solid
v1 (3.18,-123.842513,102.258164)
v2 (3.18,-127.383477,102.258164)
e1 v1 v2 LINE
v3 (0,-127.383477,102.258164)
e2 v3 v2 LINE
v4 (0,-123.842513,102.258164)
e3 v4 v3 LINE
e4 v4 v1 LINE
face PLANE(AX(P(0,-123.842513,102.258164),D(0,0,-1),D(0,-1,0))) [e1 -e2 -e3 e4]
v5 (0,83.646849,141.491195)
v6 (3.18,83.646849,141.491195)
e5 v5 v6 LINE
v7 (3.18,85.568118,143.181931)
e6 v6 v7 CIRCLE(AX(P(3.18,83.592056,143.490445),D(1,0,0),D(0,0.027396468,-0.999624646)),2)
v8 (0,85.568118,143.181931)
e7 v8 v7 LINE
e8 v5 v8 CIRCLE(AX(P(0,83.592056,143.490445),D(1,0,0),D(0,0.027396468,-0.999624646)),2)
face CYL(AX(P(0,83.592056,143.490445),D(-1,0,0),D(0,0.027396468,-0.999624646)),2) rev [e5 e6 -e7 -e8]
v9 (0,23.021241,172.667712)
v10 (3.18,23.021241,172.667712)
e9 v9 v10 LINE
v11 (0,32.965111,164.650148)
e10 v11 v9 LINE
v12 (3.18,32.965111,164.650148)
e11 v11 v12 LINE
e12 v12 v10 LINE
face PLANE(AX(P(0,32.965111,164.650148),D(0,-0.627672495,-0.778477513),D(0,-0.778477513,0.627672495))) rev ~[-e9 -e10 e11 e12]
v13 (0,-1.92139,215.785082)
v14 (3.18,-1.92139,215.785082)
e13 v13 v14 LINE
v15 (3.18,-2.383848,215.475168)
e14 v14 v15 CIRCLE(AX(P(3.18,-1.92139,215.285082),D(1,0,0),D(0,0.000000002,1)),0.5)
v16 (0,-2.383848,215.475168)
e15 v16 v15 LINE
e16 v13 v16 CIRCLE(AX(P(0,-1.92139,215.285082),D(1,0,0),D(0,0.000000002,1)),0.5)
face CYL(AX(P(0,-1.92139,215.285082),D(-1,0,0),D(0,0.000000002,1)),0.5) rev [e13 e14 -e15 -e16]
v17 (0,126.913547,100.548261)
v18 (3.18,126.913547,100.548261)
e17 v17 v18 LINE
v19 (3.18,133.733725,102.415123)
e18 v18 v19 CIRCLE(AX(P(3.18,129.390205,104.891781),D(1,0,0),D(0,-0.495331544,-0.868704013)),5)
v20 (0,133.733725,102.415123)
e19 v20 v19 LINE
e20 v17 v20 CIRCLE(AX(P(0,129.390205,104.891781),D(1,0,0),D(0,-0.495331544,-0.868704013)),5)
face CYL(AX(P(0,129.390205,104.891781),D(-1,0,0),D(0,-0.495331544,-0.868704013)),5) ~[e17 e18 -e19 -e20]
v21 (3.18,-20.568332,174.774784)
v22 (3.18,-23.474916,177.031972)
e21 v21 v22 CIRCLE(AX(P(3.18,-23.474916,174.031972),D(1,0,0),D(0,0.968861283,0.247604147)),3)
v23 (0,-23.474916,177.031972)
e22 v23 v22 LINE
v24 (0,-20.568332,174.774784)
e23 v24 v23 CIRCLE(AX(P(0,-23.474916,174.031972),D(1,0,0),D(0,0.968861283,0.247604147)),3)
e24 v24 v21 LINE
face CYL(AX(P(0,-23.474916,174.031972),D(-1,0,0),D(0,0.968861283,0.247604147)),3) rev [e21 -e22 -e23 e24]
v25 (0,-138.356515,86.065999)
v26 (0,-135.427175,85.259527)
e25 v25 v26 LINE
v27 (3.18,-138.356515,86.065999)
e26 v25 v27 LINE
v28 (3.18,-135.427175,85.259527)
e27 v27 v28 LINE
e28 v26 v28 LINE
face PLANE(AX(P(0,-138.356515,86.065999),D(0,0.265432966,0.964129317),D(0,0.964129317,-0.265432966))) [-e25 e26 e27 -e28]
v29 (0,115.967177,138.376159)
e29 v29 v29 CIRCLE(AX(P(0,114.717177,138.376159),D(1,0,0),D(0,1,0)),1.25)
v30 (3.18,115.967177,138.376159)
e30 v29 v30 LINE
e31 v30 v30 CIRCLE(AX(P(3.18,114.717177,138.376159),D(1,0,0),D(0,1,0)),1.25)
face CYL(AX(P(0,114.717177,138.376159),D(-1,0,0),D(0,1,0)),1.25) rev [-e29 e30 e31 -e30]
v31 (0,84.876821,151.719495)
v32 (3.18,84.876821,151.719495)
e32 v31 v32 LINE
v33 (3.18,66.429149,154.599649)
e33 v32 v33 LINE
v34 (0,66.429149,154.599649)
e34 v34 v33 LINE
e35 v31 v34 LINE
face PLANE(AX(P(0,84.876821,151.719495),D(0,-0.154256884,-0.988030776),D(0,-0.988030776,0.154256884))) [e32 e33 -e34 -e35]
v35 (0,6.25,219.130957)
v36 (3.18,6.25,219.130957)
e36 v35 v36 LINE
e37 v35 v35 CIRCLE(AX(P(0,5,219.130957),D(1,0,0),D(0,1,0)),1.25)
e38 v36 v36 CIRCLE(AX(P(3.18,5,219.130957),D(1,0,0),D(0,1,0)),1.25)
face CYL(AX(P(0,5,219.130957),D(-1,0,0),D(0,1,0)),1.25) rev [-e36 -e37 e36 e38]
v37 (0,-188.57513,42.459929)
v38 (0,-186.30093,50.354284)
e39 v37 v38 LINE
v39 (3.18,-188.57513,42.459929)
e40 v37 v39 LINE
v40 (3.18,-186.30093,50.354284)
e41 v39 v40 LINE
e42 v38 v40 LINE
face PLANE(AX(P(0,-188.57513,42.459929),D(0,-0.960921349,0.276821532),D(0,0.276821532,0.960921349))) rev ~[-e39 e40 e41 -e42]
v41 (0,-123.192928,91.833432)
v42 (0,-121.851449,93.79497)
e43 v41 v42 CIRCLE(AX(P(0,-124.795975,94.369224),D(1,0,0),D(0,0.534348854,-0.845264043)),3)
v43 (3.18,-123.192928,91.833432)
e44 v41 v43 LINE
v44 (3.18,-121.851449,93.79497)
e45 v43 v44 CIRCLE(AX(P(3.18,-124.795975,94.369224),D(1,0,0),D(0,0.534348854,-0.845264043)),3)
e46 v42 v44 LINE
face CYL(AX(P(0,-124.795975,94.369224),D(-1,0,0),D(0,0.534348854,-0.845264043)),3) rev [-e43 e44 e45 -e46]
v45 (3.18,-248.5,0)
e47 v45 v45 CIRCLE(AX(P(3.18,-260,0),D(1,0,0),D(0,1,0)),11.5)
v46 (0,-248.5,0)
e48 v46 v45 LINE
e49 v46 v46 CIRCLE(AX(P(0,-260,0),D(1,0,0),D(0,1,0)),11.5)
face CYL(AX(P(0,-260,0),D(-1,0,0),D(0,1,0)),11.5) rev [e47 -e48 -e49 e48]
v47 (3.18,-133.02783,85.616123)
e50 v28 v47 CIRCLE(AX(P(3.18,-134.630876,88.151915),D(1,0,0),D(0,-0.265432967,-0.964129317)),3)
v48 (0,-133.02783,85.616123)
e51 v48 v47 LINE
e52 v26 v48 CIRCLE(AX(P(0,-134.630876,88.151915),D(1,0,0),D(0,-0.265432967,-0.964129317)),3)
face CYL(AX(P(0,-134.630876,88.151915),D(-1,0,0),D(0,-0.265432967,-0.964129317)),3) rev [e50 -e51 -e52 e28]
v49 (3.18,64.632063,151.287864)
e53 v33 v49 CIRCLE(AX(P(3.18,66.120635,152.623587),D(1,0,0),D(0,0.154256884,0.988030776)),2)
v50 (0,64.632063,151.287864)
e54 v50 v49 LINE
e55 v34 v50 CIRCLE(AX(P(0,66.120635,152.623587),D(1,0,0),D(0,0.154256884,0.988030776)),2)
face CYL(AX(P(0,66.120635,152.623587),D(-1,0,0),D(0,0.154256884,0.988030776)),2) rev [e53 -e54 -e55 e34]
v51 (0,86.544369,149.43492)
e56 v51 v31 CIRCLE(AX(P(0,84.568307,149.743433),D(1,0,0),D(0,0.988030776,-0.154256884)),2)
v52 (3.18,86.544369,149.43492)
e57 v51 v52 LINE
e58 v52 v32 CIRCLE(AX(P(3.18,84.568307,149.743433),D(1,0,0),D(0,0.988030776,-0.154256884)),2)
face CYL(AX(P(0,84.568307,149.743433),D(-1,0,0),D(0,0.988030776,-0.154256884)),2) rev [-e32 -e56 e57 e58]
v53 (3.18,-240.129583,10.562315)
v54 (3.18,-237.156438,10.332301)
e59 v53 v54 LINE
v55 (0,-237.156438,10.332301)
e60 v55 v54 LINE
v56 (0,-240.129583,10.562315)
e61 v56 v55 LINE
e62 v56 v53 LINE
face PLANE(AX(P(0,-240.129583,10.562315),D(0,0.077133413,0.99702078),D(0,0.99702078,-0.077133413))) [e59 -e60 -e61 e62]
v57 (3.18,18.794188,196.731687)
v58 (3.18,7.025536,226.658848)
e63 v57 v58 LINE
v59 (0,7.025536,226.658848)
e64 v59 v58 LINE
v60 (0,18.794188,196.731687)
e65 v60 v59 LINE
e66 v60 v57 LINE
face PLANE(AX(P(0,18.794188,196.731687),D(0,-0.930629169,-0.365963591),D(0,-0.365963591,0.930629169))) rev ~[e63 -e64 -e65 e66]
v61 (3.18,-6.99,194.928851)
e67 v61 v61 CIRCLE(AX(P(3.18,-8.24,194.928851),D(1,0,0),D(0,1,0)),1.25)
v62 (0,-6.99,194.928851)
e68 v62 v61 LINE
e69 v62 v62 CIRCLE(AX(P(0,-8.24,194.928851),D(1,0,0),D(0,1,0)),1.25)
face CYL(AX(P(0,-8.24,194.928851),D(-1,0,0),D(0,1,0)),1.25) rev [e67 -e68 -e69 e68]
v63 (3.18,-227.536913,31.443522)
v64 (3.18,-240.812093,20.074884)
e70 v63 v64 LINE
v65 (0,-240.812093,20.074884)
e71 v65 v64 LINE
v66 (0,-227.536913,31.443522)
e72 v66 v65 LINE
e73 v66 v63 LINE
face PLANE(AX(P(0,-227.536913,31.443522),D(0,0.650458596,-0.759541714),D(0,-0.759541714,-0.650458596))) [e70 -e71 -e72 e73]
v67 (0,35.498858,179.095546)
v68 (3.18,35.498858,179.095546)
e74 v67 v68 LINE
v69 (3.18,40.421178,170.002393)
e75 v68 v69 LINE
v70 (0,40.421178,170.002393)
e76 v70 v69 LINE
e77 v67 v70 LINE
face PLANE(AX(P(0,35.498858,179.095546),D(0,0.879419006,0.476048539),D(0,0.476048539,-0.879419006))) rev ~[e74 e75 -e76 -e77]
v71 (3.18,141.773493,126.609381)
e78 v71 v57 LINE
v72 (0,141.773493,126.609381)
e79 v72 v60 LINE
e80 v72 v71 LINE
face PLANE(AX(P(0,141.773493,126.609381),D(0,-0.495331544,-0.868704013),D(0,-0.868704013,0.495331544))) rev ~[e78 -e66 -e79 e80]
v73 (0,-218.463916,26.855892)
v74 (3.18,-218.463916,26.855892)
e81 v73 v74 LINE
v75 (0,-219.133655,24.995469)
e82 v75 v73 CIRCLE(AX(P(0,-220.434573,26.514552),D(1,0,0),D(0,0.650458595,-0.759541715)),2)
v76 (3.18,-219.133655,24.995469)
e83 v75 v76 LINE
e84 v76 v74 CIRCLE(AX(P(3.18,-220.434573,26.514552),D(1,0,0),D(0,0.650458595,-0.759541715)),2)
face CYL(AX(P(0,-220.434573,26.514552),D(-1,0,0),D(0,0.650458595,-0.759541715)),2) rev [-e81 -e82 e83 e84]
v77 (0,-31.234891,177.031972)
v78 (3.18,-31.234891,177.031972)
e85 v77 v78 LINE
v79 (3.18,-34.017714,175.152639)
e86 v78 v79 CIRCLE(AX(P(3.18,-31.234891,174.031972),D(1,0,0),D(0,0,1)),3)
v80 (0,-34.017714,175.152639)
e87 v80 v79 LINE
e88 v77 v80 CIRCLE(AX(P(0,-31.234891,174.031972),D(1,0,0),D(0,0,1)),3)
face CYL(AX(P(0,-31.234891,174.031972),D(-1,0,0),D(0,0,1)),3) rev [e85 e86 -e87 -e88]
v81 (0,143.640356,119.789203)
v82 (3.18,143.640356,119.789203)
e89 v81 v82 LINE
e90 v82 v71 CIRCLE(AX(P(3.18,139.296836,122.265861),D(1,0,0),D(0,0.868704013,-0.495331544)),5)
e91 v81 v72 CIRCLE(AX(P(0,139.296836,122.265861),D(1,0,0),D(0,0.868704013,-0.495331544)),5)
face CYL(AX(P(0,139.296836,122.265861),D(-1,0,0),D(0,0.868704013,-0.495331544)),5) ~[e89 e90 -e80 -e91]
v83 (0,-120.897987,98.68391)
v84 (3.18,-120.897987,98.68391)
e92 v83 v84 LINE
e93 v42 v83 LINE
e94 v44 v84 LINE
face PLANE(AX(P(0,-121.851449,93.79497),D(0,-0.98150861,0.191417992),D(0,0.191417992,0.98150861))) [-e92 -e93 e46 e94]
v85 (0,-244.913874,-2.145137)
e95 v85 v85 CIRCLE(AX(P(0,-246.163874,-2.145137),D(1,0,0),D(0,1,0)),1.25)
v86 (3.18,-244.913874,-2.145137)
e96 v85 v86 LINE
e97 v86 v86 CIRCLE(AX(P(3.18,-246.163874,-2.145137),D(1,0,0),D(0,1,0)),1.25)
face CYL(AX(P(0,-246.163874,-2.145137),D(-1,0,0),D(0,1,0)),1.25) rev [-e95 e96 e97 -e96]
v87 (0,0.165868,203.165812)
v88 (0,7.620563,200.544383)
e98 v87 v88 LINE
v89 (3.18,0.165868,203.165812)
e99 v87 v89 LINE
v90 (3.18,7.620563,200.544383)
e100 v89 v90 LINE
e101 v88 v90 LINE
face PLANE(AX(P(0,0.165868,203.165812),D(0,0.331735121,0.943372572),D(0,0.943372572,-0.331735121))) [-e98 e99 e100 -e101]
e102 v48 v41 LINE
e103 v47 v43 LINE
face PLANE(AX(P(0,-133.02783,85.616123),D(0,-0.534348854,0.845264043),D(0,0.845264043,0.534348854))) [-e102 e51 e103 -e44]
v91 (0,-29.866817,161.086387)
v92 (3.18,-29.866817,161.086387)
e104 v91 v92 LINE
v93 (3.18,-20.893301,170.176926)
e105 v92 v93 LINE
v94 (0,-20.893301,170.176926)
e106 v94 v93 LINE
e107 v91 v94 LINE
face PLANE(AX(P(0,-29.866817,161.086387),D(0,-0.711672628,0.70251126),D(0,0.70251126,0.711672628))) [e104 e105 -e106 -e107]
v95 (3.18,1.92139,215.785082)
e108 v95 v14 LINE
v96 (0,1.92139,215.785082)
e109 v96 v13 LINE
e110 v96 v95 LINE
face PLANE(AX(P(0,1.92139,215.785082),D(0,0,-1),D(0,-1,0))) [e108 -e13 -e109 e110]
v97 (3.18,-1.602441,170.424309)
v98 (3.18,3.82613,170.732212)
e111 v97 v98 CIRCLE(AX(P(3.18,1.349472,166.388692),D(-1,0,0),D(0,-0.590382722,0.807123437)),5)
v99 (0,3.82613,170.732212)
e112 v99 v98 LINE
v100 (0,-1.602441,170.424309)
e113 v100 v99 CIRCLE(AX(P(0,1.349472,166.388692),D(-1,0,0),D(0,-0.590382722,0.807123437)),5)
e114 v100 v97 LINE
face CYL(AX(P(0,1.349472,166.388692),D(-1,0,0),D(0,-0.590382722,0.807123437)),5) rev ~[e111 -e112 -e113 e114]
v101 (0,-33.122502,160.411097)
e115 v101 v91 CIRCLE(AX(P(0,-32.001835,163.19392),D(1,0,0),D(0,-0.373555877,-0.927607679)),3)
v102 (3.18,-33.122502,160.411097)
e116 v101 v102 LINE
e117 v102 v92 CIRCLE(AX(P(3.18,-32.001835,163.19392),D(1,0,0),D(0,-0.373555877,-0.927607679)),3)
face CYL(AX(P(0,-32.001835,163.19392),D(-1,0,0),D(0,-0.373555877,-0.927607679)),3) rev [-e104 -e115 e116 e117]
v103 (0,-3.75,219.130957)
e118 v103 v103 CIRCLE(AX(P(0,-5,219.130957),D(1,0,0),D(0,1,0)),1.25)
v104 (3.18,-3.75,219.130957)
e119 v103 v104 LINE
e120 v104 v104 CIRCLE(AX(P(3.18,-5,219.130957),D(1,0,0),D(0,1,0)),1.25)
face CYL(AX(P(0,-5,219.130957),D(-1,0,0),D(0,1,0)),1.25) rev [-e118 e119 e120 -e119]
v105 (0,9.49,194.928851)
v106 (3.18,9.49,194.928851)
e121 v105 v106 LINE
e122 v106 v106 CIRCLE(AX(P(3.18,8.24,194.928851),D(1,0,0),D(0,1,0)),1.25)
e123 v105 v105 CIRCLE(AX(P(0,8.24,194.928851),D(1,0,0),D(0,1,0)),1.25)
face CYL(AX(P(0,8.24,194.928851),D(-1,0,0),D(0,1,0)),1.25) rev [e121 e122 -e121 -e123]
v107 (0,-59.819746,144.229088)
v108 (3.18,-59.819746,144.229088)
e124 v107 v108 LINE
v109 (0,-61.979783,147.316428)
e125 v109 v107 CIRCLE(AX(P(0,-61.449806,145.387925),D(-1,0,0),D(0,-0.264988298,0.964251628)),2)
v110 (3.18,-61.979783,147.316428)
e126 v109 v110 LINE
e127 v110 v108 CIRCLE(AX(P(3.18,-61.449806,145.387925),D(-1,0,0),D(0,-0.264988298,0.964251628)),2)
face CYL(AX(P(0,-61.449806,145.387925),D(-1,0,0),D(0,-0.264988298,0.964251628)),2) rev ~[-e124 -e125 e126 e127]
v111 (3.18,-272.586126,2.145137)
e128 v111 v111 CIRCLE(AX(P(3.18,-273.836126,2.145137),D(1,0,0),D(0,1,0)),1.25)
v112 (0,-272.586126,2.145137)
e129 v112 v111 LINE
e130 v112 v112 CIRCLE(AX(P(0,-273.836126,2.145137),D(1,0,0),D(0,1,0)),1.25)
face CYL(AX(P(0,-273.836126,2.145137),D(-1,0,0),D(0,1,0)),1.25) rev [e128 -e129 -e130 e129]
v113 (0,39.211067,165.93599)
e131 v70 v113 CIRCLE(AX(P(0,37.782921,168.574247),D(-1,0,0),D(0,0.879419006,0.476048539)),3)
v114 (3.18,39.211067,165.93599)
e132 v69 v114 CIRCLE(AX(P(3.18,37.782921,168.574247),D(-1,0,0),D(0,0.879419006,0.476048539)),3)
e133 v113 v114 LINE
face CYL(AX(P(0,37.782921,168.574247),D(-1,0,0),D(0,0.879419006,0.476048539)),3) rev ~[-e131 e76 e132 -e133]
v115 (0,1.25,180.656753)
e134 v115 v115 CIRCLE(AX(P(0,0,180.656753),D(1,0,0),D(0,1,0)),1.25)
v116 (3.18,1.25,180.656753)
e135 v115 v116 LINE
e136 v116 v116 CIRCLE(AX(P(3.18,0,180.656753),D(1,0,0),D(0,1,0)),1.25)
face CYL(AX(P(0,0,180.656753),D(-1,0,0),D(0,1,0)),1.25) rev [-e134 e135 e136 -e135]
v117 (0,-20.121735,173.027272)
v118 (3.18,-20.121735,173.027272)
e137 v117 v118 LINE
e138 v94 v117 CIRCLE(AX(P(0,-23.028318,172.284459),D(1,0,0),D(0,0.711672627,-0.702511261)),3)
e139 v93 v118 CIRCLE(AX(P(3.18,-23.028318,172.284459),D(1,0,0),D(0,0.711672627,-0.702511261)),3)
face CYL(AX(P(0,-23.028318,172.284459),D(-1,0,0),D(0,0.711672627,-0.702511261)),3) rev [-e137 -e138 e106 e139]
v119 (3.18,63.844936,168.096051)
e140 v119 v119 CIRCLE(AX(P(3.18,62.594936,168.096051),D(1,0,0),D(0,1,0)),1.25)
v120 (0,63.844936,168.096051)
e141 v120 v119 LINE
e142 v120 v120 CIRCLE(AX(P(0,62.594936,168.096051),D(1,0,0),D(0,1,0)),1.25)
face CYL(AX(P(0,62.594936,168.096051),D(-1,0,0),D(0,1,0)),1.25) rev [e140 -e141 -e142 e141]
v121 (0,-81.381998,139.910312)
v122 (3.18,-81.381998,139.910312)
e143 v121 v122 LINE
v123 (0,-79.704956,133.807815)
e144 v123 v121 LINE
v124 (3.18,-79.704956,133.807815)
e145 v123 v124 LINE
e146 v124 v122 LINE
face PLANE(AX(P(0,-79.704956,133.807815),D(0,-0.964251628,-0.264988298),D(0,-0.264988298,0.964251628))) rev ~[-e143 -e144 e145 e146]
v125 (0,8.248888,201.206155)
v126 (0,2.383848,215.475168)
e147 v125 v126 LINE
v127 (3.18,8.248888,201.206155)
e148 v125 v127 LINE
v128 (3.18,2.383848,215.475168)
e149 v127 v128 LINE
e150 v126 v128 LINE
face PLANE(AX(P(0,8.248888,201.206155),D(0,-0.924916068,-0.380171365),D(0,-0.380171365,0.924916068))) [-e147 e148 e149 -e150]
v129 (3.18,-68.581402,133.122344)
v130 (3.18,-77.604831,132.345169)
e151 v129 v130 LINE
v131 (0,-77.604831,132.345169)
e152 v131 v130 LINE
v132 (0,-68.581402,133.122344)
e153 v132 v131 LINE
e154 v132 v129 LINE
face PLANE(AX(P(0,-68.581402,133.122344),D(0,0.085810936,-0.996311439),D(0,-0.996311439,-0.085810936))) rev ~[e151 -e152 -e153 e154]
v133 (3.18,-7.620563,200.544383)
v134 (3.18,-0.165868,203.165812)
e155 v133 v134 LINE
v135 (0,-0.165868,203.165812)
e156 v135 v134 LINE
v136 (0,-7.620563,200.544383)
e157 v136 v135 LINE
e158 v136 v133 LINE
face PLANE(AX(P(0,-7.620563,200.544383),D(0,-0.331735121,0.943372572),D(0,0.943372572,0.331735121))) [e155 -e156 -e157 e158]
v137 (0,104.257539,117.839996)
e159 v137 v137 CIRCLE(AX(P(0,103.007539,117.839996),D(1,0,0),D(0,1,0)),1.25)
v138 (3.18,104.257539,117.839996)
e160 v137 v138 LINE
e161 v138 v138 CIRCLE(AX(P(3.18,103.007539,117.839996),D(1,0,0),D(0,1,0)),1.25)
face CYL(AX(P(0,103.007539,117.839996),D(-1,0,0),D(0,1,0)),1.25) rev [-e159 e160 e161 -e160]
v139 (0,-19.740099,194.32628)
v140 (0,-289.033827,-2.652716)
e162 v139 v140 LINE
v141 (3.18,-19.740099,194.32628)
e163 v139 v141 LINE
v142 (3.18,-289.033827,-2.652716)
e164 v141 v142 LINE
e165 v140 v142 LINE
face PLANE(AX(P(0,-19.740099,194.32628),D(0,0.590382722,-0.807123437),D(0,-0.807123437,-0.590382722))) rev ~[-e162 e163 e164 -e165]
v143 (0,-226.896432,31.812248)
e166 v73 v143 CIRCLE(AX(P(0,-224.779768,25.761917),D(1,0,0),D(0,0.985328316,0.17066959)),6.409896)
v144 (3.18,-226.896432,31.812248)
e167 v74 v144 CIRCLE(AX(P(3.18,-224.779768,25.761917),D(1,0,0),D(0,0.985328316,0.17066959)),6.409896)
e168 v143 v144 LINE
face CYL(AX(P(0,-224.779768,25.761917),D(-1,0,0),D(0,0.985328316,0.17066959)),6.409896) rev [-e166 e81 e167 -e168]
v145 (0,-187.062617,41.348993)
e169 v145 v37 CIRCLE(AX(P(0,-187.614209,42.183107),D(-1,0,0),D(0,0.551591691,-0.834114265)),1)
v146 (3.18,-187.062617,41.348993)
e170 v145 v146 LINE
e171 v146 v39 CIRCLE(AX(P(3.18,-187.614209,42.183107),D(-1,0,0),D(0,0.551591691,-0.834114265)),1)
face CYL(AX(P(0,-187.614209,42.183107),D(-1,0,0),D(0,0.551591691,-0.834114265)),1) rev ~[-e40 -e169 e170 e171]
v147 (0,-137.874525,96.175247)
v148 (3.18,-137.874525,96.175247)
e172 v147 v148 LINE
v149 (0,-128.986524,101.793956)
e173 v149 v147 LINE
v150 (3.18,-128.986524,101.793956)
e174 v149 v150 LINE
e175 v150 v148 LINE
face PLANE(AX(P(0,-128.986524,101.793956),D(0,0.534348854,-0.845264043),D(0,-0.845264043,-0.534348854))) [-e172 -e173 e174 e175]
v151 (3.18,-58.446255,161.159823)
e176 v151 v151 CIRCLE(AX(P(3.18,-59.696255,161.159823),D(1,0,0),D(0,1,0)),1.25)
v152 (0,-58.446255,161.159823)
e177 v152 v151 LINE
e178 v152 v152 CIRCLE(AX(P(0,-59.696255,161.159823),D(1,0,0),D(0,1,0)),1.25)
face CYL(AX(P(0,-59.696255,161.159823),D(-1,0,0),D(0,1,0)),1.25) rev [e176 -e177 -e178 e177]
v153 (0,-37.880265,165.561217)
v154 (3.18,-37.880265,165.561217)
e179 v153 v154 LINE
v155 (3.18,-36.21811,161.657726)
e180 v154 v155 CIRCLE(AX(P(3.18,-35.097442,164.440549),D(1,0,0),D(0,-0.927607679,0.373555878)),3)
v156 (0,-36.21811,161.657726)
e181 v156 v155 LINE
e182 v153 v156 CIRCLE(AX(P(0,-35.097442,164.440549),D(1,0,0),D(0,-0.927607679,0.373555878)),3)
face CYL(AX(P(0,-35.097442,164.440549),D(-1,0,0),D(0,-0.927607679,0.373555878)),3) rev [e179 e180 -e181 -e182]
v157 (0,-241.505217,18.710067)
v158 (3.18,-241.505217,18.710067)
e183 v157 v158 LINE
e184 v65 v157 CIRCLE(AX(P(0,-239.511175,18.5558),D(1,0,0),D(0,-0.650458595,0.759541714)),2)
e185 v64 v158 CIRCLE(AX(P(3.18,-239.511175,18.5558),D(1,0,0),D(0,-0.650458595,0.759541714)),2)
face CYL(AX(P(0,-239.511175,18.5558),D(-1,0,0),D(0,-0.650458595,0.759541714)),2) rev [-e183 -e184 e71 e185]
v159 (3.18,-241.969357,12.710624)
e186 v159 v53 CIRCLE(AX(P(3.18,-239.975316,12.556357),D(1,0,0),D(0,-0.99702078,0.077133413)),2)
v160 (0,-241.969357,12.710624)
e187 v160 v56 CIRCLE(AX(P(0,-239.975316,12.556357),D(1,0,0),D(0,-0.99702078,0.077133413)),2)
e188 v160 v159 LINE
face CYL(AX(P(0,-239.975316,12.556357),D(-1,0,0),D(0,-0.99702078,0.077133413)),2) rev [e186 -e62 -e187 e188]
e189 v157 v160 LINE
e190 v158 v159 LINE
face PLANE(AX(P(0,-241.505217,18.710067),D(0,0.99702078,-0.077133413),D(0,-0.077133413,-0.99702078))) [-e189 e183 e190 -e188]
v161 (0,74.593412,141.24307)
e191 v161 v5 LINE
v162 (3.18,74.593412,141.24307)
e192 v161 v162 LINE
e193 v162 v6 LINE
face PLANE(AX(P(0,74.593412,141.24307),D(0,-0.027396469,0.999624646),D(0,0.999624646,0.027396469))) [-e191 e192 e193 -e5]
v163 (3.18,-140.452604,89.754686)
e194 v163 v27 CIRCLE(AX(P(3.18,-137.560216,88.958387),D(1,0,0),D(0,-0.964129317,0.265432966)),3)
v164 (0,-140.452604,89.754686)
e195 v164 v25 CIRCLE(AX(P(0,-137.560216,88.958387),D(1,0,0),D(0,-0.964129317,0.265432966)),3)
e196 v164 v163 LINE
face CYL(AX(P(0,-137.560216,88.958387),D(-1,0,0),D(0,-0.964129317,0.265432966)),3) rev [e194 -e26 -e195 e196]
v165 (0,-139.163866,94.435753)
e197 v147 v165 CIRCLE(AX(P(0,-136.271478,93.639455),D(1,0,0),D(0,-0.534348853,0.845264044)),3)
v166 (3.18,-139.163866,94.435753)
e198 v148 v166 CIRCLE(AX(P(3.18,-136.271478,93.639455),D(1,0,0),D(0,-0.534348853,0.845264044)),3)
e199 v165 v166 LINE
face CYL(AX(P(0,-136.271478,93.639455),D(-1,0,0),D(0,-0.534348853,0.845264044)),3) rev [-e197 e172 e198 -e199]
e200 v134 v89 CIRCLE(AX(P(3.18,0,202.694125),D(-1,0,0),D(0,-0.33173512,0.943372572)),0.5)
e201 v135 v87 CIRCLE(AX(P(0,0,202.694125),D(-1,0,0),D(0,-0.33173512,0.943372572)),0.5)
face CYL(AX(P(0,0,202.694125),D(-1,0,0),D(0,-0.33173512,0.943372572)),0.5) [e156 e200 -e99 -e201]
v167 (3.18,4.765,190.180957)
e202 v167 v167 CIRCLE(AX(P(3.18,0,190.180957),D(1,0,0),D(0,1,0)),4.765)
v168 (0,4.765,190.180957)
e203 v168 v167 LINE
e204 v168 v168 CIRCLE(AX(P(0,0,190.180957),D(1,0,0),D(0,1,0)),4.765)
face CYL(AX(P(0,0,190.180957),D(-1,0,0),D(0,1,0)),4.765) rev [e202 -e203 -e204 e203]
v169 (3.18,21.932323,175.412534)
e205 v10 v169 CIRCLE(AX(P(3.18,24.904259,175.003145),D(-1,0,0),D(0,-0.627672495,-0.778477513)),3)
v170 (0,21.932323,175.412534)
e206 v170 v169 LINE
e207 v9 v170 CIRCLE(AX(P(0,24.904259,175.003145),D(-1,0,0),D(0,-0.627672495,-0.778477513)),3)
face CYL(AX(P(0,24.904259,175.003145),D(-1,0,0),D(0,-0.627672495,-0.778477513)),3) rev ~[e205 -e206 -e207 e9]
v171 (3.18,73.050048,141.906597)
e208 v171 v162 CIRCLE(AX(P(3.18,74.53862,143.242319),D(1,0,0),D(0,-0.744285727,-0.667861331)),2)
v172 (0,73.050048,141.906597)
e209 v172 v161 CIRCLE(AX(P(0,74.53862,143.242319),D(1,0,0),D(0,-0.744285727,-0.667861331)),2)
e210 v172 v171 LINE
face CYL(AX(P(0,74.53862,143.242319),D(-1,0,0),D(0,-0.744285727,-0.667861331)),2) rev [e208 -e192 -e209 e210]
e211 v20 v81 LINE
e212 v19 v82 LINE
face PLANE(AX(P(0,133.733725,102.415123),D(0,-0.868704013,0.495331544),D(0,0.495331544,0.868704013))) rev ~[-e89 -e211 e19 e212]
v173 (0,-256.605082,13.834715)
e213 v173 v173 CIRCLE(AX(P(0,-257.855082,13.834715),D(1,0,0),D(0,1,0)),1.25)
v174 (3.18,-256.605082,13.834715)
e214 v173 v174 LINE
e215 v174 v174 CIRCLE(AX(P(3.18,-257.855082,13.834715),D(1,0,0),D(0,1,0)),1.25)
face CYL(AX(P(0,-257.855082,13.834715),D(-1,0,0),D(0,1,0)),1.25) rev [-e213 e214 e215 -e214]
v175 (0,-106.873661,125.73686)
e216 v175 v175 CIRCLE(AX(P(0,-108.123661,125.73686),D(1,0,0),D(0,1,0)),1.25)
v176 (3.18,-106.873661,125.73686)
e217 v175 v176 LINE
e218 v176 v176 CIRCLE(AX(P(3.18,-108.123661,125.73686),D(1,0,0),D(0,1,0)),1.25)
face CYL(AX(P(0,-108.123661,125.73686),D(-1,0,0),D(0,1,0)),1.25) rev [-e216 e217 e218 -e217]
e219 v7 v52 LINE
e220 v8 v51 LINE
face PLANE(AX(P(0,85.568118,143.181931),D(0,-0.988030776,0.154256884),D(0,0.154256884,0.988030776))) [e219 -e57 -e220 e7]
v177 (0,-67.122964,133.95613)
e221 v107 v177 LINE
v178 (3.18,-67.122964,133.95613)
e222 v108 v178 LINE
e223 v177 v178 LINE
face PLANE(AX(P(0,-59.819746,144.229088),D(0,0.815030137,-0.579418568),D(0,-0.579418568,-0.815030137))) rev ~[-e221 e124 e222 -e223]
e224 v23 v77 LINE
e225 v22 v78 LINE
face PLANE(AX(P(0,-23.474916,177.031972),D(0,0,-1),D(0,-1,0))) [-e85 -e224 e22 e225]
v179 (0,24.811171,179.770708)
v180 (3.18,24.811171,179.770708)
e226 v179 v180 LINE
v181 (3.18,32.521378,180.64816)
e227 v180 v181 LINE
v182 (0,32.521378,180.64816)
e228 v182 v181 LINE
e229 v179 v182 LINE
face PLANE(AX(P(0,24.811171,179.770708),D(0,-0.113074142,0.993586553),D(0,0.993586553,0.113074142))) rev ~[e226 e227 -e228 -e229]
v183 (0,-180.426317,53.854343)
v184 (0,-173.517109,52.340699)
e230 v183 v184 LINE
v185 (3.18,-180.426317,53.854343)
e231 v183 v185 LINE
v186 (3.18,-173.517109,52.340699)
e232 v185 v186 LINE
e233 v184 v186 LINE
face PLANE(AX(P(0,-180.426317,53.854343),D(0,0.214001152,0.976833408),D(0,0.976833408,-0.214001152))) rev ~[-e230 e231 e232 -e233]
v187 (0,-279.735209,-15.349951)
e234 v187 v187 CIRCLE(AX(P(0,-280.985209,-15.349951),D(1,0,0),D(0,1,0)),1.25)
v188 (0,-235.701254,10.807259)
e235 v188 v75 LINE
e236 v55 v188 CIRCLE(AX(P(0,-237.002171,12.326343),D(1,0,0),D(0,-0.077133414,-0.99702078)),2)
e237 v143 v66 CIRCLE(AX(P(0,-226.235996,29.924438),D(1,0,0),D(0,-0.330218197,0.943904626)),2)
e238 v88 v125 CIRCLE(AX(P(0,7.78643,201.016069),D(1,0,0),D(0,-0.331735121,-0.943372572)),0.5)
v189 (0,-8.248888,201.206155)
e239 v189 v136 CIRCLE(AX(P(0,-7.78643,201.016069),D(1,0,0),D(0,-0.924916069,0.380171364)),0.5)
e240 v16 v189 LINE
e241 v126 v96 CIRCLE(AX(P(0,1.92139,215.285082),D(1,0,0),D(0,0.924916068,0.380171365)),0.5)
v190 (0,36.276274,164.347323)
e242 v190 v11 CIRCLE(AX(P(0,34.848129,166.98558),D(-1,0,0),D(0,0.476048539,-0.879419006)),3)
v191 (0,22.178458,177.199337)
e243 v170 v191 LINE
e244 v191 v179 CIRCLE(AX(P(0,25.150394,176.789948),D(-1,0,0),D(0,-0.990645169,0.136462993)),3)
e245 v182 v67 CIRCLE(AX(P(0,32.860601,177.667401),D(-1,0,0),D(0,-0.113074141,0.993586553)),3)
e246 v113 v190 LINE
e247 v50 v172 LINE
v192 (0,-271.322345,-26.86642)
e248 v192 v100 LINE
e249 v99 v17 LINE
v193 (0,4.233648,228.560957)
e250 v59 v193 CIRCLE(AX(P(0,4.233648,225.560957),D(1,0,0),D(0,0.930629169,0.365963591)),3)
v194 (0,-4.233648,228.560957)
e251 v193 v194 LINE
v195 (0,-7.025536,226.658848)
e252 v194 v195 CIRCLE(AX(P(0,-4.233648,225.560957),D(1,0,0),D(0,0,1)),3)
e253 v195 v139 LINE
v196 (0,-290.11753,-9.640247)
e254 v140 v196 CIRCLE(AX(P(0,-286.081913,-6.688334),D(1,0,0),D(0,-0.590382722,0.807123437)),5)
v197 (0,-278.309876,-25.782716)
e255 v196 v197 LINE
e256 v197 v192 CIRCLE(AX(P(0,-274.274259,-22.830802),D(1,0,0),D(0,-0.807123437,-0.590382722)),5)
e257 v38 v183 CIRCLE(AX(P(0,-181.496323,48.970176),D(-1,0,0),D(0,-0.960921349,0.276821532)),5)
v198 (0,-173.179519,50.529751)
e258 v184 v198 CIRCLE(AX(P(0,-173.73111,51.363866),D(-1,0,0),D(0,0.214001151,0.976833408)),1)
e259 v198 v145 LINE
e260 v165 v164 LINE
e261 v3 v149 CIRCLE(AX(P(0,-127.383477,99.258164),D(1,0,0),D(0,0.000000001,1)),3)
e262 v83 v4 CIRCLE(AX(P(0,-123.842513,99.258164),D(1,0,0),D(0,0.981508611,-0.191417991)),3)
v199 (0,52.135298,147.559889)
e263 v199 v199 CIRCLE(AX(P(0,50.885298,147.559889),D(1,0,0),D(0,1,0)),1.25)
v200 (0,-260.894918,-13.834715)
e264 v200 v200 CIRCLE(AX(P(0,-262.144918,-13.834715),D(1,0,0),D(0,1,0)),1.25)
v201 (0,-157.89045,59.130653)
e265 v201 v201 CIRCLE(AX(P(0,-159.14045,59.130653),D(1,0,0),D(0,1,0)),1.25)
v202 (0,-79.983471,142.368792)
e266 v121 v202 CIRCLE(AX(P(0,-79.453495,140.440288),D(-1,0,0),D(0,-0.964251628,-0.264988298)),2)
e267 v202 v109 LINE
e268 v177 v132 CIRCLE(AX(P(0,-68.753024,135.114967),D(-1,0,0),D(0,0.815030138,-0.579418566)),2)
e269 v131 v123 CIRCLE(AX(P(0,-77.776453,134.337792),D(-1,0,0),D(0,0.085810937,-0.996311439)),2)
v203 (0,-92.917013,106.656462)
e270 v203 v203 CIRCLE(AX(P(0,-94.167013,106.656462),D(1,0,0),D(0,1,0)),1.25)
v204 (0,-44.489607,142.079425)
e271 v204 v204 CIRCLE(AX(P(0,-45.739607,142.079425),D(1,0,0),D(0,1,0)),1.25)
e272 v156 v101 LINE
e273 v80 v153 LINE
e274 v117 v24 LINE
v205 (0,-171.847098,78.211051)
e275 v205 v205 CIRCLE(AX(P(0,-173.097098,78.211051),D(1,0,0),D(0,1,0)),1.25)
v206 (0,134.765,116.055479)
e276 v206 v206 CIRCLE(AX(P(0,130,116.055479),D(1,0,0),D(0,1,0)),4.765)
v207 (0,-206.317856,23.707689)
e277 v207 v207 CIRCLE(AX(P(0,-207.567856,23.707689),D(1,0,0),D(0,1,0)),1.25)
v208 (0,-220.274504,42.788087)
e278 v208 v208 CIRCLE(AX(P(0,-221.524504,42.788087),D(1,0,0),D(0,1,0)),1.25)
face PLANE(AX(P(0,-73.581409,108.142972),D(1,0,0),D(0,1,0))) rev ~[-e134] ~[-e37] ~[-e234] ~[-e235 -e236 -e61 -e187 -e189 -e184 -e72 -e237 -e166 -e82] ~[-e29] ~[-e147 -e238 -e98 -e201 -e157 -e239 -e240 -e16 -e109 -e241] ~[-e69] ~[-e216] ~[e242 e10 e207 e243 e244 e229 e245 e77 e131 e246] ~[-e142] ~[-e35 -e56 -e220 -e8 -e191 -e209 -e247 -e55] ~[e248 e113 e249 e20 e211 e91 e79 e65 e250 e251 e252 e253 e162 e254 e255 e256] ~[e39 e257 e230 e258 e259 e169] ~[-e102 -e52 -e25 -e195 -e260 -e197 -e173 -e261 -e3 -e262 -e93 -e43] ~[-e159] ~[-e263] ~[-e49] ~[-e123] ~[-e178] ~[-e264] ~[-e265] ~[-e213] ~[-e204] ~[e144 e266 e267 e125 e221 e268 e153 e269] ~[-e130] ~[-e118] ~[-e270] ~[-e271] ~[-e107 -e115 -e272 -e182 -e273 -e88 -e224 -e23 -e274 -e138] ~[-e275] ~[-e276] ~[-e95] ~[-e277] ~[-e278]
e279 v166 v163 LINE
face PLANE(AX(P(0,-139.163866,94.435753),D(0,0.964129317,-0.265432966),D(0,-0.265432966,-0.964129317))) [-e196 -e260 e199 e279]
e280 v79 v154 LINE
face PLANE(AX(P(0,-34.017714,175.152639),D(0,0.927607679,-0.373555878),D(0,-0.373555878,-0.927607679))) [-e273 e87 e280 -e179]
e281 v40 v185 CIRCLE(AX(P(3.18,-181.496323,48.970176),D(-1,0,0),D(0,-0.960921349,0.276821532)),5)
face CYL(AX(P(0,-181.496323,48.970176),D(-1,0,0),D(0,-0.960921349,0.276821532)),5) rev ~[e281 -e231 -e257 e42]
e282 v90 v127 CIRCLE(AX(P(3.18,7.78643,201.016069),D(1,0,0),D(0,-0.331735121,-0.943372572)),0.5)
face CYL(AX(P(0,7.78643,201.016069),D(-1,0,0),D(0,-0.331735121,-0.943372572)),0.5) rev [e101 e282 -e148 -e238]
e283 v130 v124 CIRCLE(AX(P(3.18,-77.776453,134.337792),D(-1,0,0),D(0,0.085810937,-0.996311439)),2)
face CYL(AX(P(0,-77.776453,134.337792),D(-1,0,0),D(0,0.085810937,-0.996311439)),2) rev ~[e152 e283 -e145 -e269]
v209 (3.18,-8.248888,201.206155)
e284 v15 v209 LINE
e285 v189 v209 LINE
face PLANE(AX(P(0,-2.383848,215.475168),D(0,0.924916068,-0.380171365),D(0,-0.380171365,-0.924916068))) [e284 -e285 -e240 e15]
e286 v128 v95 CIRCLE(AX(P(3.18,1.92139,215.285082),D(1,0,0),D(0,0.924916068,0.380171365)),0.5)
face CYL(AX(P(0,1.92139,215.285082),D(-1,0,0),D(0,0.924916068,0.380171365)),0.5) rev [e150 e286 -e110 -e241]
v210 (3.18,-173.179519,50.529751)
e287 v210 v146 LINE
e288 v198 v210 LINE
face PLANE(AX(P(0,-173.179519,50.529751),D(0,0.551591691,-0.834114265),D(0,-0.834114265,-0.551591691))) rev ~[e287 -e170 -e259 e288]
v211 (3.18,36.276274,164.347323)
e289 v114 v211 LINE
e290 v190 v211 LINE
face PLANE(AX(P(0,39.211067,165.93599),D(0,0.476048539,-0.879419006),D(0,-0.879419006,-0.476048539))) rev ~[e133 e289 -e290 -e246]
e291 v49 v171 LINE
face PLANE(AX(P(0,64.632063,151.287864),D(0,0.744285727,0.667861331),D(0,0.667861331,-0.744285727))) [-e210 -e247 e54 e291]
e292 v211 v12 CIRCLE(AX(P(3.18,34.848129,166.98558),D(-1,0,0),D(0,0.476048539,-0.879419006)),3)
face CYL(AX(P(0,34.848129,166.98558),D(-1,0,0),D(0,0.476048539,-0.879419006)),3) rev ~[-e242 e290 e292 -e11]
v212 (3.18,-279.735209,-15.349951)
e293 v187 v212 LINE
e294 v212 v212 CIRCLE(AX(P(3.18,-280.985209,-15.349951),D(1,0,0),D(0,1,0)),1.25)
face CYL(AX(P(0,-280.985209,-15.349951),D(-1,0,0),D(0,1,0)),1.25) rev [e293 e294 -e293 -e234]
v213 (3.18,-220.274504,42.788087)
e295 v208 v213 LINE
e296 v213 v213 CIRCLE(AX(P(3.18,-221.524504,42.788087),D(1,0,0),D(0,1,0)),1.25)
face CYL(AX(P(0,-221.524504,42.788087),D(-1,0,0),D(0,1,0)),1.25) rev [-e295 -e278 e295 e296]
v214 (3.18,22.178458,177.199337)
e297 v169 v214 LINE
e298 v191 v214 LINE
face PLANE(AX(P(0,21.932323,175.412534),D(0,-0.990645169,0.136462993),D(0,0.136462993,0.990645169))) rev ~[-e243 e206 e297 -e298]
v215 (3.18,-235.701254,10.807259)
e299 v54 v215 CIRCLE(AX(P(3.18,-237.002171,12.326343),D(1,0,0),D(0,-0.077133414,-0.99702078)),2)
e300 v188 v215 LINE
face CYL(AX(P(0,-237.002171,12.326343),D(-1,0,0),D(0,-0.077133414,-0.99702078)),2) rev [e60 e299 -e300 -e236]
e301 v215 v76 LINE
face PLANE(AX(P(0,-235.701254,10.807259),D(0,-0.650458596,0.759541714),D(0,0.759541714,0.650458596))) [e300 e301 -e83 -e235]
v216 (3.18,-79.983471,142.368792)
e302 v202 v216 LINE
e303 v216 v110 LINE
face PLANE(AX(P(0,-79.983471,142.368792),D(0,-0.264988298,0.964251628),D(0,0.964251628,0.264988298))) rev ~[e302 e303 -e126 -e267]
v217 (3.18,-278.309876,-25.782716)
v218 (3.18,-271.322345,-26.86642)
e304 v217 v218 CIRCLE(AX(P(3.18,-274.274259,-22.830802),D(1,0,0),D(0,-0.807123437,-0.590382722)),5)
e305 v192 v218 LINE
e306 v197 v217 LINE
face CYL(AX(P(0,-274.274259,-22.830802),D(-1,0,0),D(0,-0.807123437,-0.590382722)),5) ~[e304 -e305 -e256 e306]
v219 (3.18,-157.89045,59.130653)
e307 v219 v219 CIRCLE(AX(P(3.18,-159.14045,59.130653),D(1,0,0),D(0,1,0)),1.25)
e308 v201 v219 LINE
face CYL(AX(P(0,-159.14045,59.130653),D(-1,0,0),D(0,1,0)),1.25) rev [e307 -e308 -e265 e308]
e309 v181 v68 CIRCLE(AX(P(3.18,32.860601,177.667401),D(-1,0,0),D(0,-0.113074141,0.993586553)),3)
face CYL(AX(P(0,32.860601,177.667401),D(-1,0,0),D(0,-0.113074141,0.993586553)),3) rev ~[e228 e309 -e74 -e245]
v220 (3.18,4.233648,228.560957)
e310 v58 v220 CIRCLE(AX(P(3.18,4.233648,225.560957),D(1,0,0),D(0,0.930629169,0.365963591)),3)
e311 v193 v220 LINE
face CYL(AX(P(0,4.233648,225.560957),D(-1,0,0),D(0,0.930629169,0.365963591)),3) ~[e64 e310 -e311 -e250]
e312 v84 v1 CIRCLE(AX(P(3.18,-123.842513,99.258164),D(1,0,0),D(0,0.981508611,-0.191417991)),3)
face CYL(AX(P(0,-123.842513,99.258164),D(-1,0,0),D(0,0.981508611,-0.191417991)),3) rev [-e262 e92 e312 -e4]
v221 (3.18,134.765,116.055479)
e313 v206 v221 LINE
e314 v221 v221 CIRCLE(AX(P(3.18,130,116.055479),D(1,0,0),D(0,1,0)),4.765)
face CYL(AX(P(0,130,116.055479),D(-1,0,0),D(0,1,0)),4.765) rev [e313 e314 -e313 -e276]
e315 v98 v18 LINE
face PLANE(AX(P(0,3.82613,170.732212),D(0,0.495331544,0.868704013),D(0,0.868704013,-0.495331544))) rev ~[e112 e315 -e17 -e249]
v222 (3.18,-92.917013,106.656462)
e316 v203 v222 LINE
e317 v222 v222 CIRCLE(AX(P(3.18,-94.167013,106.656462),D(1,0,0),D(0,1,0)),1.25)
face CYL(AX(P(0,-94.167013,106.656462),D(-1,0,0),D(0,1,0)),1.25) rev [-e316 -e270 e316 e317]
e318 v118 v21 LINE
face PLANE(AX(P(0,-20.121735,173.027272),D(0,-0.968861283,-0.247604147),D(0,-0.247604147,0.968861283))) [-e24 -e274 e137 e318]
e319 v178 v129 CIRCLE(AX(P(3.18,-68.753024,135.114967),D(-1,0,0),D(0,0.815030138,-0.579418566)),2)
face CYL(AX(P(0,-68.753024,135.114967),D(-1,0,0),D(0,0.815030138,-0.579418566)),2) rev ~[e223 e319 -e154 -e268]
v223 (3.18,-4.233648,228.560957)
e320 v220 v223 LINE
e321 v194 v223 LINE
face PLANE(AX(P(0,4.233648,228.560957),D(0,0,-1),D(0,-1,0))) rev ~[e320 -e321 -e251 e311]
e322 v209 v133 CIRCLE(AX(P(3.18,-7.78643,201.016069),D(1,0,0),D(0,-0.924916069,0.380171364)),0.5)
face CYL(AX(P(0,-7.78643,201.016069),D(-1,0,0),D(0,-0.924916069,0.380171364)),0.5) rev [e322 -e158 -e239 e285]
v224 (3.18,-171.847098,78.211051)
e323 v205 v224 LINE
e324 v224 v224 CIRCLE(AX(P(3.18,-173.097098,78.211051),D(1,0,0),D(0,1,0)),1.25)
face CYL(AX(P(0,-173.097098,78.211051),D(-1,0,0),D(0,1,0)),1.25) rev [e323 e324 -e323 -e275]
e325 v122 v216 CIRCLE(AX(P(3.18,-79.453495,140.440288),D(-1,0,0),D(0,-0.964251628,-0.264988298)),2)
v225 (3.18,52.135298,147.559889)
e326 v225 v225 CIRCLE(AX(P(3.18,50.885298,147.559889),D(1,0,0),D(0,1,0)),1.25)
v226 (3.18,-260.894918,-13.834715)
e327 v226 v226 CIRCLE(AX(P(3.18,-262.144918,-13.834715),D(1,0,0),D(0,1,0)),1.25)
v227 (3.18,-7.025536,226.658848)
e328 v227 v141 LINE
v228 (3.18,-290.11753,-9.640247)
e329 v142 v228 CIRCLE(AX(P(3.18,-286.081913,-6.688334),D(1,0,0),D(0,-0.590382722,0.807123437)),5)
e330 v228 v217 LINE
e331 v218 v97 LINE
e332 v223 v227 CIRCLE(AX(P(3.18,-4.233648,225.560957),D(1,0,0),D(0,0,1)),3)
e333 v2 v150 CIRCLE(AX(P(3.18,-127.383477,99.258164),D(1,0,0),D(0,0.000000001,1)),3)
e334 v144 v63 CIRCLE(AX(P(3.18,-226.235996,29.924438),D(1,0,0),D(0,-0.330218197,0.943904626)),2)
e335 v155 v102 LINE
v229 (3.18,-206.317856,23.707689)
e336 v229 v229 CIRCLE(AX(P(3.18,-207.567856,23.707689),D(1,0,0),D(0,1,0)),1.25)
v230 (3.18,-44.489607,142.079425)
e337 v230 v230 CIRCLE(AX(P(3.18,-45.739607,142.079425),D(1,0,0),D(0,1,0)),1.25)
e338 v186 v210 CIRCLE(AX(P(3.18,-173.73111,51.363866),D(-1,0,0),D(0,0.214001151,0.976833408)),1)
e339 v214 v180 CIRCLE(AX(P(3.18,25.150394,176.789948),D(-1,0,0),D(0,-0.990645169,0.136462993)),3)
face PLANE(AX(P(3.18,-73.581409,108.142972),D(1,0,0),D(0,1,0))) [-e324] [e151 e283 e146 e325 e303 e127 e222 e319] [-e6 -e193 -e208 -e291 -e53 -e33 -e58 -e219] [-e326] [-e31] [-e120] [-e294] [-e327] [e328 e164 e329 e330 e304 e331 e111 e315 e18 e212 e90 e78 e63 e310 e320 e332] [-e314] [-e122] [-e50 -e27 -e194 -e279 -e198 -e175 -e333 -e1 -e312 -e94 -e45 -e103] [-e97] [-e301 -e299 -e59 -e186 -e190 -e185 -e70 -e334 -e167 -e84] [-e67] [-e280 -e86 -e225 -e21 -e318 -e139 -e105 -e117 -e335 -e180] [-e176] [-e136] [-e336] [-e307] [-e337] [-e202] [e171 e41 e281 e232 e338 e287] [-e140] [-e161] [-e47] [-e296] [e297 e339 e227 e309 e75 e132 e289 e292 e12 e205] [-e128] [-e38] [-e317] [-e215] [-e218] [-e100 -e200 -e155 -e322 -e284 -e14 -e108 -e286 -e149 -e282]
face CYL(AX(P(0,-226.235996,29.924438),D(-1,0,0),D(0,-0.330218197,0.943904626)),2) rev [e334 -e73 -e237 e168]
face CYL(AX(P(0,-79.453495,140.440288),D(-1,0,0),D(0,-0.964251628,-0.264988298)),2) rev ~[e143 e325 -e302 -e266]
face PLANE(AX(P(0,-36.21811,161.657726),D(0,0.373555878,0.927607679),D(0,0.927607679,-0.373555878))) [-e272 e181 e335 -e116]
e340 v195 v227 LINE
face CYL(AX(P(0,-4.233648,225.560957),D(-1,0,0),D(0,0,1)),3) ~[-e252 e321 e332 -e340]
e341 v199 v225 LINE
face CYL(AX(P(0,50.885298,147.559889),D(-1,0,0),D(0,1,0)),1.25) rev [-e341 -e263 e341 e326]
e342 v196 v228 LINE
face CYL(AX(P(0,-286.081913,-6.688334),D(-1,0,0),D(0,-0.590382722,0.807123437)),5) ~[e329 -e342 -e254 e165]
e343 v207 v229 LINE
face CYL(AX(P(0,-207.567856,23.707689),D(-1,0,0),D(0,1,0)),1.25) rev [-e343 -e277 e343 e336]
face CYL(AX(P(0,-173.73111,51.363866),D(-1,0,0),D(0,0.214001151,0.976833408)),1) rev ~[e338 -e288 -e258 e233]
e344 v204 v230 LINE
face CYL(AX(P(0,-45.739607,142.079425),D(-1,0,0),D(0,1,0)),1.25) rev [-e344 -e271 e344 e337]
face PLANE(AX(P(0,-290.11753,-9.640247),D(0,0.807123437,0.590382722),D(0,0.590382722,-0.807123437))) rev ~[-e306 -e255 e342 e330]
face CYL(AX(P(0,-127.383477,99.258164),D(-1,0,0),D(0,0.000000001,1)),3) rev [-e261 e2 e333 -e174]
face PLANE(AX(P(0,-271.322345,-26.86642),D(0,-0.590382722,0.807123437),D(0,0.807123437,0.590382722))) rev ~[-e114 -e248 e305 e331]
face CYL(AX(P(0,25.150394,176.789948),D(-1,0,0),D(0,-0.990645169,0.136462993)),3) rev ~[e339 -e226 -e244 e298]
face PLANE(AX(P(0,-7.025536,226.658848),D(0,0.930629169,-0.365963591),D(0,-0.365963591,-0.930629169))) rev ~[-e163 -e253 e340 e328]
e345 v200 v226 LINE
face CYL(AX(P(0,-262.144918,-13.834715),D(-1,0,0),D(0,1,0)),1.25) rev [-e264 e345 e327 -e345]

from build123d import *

# Parameters (mm, degrees)
SKETCH3_R                           = 4.765
SKETCH3_R_2                         = 11.5
SKETCH3_R_3                         = 1.25
BOSS_ROCKER_BASE_DEPTH              = 3.18
SKETCH4_R                           = 1.25
CUT_MOTOR_HOLES_SHAFT_SUPPORT_DEPTH = 3.18
SKETCH5_R                           = 1.25
CUT_SUPPORT_HOLES_DEPTH             = 3.18
CUT_LIGHTENING_HOLES_DEPTH          = 3.18


with BuildPart() as part:
    # Sketch3 → Boss-rocker base (new body)
    with BuildSketch(Plane.YZ):
        with BuildLine():
            Line((-19.740098585, 194.326279503), (-289.03382674, -2.652716496))
            ThreePointArc((-289.03382674, -2.652716496), (-291.022843538, -5.922039532), (-290.117530314, -9.640247287))
            Line((-290.117530314, -9.640247287), (-278.309875879, -25.782716018))
            ThreePointArc((-278.309875879, -25.782716018), (-275.040552842, -27.771732816), (-271.322345088, -26.866419592))
            Line((-271.322345088, -26.866419592), (-1.602441241, 170.424309102))
            ThreePointArc((-1.602441241, 170.424309102), (1.066332673, 171.380668673), (3.826130086, 170.732211983))
            Line((3.826130086, 170.732211983), (126.91354691, 100.548260636))
            ThreePointArc((126.91354691, 100.548260636), (130.710275653, 100.069186741), (133.733724692, 102.415122982))
            Line((133.733724692, 102.415122982), (143.640355564, 119.789203239))
            ThreePointArc((143.640355564, 119.789203239), (144.119429459, 123.585931982), (141.773493218, 126.609381021))
            Line((141.773493218, 126.609381021), (18.794188293, 196.731687397))
            Line((18.794188293, 196.731687397), (7.025536002, 226.658847865))
            ThreePointArc((7.025536002, 226.658847865), (5.922779586, 228.040238472), (4.233648495, 228.560957093))
            Line((4.233648495, 228.560957093), (-4.233648495, 228.560957093))
            ThreePointArc((-4.233648495, 228.560957093), (-5.922779586, 228.040238472), (-7.025536002, 226.658847865))
            Line((-7.025536002, 226.658847865), (-19.740098585, 194.326279503))
        make_face()
        with Locations((0, 190.180957093)):
            Circle(SKETCH3_R, mode=Mode.SUBTRACT)
        with Locations((-260, 0)):
            Circle(SKETCH3_R_2, mode=Mode.SUBTRACT)
        with Locations((130, 116.055478547)):
            Circle(SKETCH3_R, mode=Mode.SUBTRACT)
        with Locations((-5, 219.130957093)):
            Circle(SKETCH3_R_3, mode=Mode.SUBTRACT)
        with Locations((5, 219.130957093)):
            Circle(SKETCH3_R_3, mode=Mode.SUBTRACT)
    extrude(amount=BOSS_ROCKER_BASE_DEPTH)

    # Sketch4 → Cut-motor holes + shaft support (cut)
    with BuildSketch(Plane.YZ):
        with Locations((0, 180.656752709)):
            Circle(SKETCH4_R)
        with Locations((-8.24, 194.928851363)):
            Circle(SKETCH4_R)
        with Locations((8.24, 194.928851363)):
            Circle(SKETCH4_R)
        with Locations((-273.836126141, 2.145136678)):
            Circle(SKETCH4_R)
        with Locations((-257.855082097, 13.834714568)):
            Circle(SKETCH4_R)
        with Locations((-262.144917759, -13.834714591)):
            Circle(SKETCH4_R)
        with Locations((-246.163873715, -2.1451367)):
            Circle(SKETCH4_R)
    extrude(amount=CUT_MOTOR_HOLES_SHAFT_SUPPORT_DEPTH, mode=Mode.SUBTRACT)

    # Sketch5 → Cut-support holes (cut)
    with BuildSketch(Plane.YZ):
        with Locations((-173.097097557, 78.211050768)):
            Circle(SKETCH5_R)
        with Locations((-159.140450015, 59.130652728)):
            Circle(SKETCH5_R)
        with Locations((-94.167013372, 106.656461829)):
            Circle(SKETCH5_R)
        with Locations((-108.123660914, 125.73685987)):
            Circle(SKETCH5_R)
        with Locations((-221.524503751, 42.788087462)):
            Circle(SKETCH5_R)
        with Locations((-207.567856209, 23.707689422)):
            Circle(SKETCH5_R)
        with Locations((-45.739607178, 142.079425135)):
            Circle(SKETCH5_R)
        with Locations((-59.69625472, 161.159823175)):
            Circle(SKETCH5_R)
        with Locations((103.007538851, 117.839995969)):
            Circle(SKETCH5_R)
        with Locations((114.717176541, 138.376158833)):
            Circle(SKETCH5_R)
        with Locations((62.594935771, 168.096051448)):
            Circle(SKETCH5_R)
        with Locations((50.885298081, 147.559888585)):
            Circle(SKETCH5_R)
        with Locations((-280.985209351, -15.349950766)):
            Circle(SKETCH5_R)
    extrude(amount=CUT_SUPPORT_HOLES_DEPTH, mode=Mode.SUBTRACT)

    # Sketch6 → Cut-lightening holes (cut)
    with BuildSketch(Plane.YZ):
        with BuildLine():
            Line((-79.983471427, 142.368791683), (-61.979782767, 147.316428458))
            ThreePointArc((-61.979782767, 147.316428458), (-59.811067724, 146.534457497), (-59.819745898, 144.229088067))
            Line((-59.819745898, 144.229088067), (-67.122963599, 133.95613022))
            ThreePointArc((-67.122963599, 133.95613022), (-67.760393878, 133.378682327), (-68.581402, 133.122344477))
            Line((-68.581402, 133.122344477), (-77.604831251, 132.34516891))
            ThreePointArc((-77.604831251, 132.34516891), (-78.919471752, 132.69660063), (-79.704956379, 133.807815192))
            Line((-79.704956379, 133.807815192), (-81.381998087, 139.910311831))
            ThreePointArc((-81.381998087, 139.910311831), (-81.191902606, 141.429196112), (-79.983471427, 142.368791683))
        make_face()
        with BuildLine():
            Line((-23.474916203, 177.031971532), (-31.234891161, 177.031971532))
            ThreePointArc((-31.234891161, 177.031971532), (-32.91387852, 176.518133523), (-34.017714198, 175.152639164))
            Line((-34.017714198, 175.152639164), (-37.880265406, 165.561216901))
            ThreePointArc((-37.880265406, 165.561216901), (-37.857627092, 163.26522791), (-36.218110002, 161.657726231))
            Line((-36.218110002, 161.657726231), (-33.122502329, 160.411097438))
            ThreePointArc((-33.122502329, 160.411097438), (-31.392547815, 160.256443753), (-29.866816812, 161.086386695))
            Line((-29.866816812, 161.086386695), (-20.893300564, 170.176925526))
            ThreePointArc((-20.893300564, 170.176925526), (-20.132536099, 171.500594144), (-20.121734598, 173.027271748))
            Line((-20.121734598, 173.027271748), (-20.568332353, 174.774783973))
            ThreePointArc((-20.568332353, 174.774783973), (-21.634866927, 176.401405781), (-23.474916203, 177.031971532))
        make_face()
        with BuildLine():
            Line((-123.842513182, 102.258163939), (-127.383477271, 102.258163939))
            ThreePointArc((-127.383477271, 102.258163939), (-128.217930269, 102.139776022), (-128.986523832, 101.793956069))
            Line((-128.986523832, 101.793956069), (-137.87452461, 96.175246667))
            ThreePointArc((-137.87452461, 96.175246667), (-138.681600876, 95.425877769), (-139.163866001, 94.435753436))
            Line((-139.163866001, 94.435753436), (-140.452603638, 89.754685534))
            ThreePointArc((-140.452603638, 89.754685534), (-140.168511172, 87.476227852), (-138.356514585, 86.065998684))
            Line((-138.356514585, 86.065998684), (-135.427175254, 85.259526758))
            ThreePointArc((-135.427175254, 85.259526758), (-134.189854142, 85.184508534), (-133.027829794, 85.61612258))
            Line((-133.027829794, 85.61612258), (-123.19292846, 91.833432183))
            ThreePointArc((-123.19292846, 91.833432183), (-122.319685125, 92.675710701), (-121.851449189, 93.794970338))
            Line((-121.851449189, 93.794970338), (-120.89798735, 98.683909964))
            ThreePointArc((-120.89798735, 98.683909964), (-121.527047578, 101.165680397), (-123.842513182, 102.258163939))
        make_face()
        with BuildLine():
            Line((-173.179518759, 50.529751316), (-187.062617136, 41.348992712))
            ThreePointArc((-187.062617136, 41.348992712), (-188.206182034, 41.377149334), (-188.575130176, 42.459928509))
            Line((-188.575130176, 42.459928509), (-186.300929891, 50.354284082))
            ThreePointArc((-186.300929891, 50.354284082), (-184.055505641, 53.265590831), (-180.426317386, 53.854343461))
            Line((-180.426317386, 53.854343461), (-173.517109299, 52.340698989))
            ThreePointArc((-173.517109299, 52.340698989), (-172.74804587, 51.547125046), (-173.179518759, 50.529751316))
        make_face()
        with BuildLine():
            Line((-227.536912906, 31.443521835), (-240.812092581, 20.074883922))
            ThreePointArc((-240.812092581, 20.074883922), (-241.294394217, 19.461411125), (-241.505216951, 18.71006732))
            Line((-241.505216951, 18.71006732), (-241.969357294, 12.71062362))
            ThreePointArc((-241.969357294, 12.71062362), (-241.494399162, 11.255439603), (-240.129582559, 10.562315233))
            Line((-240.129582559, 10.562315233), (-237.156438151, 10.332301196))
            ThreePointArc((-237.156438151, 10.332301196), (-236.381608619, 10.425053213), (-235.701254134, 10.807259329))
            Line((-235.701254134, 10.807259329), (-219.133655325, 24.995468947))
            ThreePointArc((-219.133655325, 24.995468947), (-218.552793599, 25.837124808), (-218.463915883, 26.855891554))
            ThreePointArc((-218.463915883, 26.855891554), (-221.531743706, 31.287956059), (-226.896432107, 31.812247659))
            ThreePointArc((-226.896432107, 31.812247659), (-227.233851743, 31.657725269), (-227.536912906, 31.443521835))
        make_face()
        with BuildLine():
            Line((85.568117513, 143.181930885), (86.544369033, 149.434919538))
            ThreePointArc((86.544369033, 149.434919538), (86.183746182, 150.922567652), (84.87682125, 151.719494858))
            Line((84.87682125, 151.719494858), (66.429148509, 154.599648582))
            ThreePointArc((66.429148509, 154.599648582), (64.362763101, 153.577467158), (64.632063287, 151.28786437))
            Line((64.632063287, 151.28786437), (73.050048081, 141.906596667))
            ThreePointArc((73.050048081, 141.906596667), (73.74868466, 141.404929088), (74.593412473, 141.243070035))
            Line((74.593412473, 141.243070035), (83.646848899, 141.491195361))
            ThreePointArc((83.646848899, 141.491195361), (84.913320183, 141.989025039), (85.568117513, 143.181930885))
        make_face()
        with BuildLine():
            Line((21.93232317, 175.41253387), (22.178458249, 177.199337176))
            ThreePointArc((22.178458249, 177.199337176), (23.054223795, 178.936124213), (24.811171332, 179.770707856))
            Line((24.811171332, 179.770707856), (32.521378103, 180.648160365))
            ThreePointArc((32.521378103, 180.648160365), (34.247699157, 180.327467884), (35.498857547, 179.095546323))
            Line((35.498857547, 179.095546323), (40.421178328, 170.0023928))
            ThreePointArc((40.421178328, 170.0023928), (40.658302188, 167.718569205), (39.211066927, 165.935990164))
            Line((39.211066927, 165.935990164), (36.27627425, 164.347323378))
            ThreePointArc((36.27627425, 164.347323378), (34.574902041, 163.998048434), (32.965111147, 164.650147857))
            Line((32.965111147, 164.650147857), (23.021241192, 172.667712351))
            ThreePointArc((23.021241192, 172.667712351), (22.115683157, 173.896868902), (21.93232317, 175.41253387))
        make_face()
        with BuildLine():
            Line((1.921390016, 215.785081873), (-1.921390016, 215.785081873))
            ThreePointArc((-1.921390016, 215.785081873), (-2.199739759, 215.700438853), (-2.38384805, 215.475167556))
            Line((-2.38384805, 215.475167556), (-8.248888496, 201.206154542))
            ThreePointArc((-8.248888496, 201.206154542), (-8.149028051, 200.671797182), (-7.620562901, 200.544382574))
            Line((-7.620562901, 200.544382574), (-0.165867561, 203.165811621))
            ThreePointArc((-0.165867561, 203.165811621), (0, 203.194125335), (0.165867561, 203.165811621))
            Line((0.165867561, 203.165811621), (7.620562901, 200.544382574))
            ThreePointArc((7.620562901, 200.544382574), (8.149028051, 200.671797182), (8.248888496, 201.206154542))
            Line((8.248888496, 201.206154542), (2.38384805, 215.475167556))
            ThreePointArc((2.38384805, 215.475167556), (2.199739759, 215.700438853), (1.921390016, 215.785081873))
        make_face()
    extrude(amount=CUT_LIGHTENING_HOLES_DEPTH, mode=Mode.SUBTRACT)


solid = part.part
